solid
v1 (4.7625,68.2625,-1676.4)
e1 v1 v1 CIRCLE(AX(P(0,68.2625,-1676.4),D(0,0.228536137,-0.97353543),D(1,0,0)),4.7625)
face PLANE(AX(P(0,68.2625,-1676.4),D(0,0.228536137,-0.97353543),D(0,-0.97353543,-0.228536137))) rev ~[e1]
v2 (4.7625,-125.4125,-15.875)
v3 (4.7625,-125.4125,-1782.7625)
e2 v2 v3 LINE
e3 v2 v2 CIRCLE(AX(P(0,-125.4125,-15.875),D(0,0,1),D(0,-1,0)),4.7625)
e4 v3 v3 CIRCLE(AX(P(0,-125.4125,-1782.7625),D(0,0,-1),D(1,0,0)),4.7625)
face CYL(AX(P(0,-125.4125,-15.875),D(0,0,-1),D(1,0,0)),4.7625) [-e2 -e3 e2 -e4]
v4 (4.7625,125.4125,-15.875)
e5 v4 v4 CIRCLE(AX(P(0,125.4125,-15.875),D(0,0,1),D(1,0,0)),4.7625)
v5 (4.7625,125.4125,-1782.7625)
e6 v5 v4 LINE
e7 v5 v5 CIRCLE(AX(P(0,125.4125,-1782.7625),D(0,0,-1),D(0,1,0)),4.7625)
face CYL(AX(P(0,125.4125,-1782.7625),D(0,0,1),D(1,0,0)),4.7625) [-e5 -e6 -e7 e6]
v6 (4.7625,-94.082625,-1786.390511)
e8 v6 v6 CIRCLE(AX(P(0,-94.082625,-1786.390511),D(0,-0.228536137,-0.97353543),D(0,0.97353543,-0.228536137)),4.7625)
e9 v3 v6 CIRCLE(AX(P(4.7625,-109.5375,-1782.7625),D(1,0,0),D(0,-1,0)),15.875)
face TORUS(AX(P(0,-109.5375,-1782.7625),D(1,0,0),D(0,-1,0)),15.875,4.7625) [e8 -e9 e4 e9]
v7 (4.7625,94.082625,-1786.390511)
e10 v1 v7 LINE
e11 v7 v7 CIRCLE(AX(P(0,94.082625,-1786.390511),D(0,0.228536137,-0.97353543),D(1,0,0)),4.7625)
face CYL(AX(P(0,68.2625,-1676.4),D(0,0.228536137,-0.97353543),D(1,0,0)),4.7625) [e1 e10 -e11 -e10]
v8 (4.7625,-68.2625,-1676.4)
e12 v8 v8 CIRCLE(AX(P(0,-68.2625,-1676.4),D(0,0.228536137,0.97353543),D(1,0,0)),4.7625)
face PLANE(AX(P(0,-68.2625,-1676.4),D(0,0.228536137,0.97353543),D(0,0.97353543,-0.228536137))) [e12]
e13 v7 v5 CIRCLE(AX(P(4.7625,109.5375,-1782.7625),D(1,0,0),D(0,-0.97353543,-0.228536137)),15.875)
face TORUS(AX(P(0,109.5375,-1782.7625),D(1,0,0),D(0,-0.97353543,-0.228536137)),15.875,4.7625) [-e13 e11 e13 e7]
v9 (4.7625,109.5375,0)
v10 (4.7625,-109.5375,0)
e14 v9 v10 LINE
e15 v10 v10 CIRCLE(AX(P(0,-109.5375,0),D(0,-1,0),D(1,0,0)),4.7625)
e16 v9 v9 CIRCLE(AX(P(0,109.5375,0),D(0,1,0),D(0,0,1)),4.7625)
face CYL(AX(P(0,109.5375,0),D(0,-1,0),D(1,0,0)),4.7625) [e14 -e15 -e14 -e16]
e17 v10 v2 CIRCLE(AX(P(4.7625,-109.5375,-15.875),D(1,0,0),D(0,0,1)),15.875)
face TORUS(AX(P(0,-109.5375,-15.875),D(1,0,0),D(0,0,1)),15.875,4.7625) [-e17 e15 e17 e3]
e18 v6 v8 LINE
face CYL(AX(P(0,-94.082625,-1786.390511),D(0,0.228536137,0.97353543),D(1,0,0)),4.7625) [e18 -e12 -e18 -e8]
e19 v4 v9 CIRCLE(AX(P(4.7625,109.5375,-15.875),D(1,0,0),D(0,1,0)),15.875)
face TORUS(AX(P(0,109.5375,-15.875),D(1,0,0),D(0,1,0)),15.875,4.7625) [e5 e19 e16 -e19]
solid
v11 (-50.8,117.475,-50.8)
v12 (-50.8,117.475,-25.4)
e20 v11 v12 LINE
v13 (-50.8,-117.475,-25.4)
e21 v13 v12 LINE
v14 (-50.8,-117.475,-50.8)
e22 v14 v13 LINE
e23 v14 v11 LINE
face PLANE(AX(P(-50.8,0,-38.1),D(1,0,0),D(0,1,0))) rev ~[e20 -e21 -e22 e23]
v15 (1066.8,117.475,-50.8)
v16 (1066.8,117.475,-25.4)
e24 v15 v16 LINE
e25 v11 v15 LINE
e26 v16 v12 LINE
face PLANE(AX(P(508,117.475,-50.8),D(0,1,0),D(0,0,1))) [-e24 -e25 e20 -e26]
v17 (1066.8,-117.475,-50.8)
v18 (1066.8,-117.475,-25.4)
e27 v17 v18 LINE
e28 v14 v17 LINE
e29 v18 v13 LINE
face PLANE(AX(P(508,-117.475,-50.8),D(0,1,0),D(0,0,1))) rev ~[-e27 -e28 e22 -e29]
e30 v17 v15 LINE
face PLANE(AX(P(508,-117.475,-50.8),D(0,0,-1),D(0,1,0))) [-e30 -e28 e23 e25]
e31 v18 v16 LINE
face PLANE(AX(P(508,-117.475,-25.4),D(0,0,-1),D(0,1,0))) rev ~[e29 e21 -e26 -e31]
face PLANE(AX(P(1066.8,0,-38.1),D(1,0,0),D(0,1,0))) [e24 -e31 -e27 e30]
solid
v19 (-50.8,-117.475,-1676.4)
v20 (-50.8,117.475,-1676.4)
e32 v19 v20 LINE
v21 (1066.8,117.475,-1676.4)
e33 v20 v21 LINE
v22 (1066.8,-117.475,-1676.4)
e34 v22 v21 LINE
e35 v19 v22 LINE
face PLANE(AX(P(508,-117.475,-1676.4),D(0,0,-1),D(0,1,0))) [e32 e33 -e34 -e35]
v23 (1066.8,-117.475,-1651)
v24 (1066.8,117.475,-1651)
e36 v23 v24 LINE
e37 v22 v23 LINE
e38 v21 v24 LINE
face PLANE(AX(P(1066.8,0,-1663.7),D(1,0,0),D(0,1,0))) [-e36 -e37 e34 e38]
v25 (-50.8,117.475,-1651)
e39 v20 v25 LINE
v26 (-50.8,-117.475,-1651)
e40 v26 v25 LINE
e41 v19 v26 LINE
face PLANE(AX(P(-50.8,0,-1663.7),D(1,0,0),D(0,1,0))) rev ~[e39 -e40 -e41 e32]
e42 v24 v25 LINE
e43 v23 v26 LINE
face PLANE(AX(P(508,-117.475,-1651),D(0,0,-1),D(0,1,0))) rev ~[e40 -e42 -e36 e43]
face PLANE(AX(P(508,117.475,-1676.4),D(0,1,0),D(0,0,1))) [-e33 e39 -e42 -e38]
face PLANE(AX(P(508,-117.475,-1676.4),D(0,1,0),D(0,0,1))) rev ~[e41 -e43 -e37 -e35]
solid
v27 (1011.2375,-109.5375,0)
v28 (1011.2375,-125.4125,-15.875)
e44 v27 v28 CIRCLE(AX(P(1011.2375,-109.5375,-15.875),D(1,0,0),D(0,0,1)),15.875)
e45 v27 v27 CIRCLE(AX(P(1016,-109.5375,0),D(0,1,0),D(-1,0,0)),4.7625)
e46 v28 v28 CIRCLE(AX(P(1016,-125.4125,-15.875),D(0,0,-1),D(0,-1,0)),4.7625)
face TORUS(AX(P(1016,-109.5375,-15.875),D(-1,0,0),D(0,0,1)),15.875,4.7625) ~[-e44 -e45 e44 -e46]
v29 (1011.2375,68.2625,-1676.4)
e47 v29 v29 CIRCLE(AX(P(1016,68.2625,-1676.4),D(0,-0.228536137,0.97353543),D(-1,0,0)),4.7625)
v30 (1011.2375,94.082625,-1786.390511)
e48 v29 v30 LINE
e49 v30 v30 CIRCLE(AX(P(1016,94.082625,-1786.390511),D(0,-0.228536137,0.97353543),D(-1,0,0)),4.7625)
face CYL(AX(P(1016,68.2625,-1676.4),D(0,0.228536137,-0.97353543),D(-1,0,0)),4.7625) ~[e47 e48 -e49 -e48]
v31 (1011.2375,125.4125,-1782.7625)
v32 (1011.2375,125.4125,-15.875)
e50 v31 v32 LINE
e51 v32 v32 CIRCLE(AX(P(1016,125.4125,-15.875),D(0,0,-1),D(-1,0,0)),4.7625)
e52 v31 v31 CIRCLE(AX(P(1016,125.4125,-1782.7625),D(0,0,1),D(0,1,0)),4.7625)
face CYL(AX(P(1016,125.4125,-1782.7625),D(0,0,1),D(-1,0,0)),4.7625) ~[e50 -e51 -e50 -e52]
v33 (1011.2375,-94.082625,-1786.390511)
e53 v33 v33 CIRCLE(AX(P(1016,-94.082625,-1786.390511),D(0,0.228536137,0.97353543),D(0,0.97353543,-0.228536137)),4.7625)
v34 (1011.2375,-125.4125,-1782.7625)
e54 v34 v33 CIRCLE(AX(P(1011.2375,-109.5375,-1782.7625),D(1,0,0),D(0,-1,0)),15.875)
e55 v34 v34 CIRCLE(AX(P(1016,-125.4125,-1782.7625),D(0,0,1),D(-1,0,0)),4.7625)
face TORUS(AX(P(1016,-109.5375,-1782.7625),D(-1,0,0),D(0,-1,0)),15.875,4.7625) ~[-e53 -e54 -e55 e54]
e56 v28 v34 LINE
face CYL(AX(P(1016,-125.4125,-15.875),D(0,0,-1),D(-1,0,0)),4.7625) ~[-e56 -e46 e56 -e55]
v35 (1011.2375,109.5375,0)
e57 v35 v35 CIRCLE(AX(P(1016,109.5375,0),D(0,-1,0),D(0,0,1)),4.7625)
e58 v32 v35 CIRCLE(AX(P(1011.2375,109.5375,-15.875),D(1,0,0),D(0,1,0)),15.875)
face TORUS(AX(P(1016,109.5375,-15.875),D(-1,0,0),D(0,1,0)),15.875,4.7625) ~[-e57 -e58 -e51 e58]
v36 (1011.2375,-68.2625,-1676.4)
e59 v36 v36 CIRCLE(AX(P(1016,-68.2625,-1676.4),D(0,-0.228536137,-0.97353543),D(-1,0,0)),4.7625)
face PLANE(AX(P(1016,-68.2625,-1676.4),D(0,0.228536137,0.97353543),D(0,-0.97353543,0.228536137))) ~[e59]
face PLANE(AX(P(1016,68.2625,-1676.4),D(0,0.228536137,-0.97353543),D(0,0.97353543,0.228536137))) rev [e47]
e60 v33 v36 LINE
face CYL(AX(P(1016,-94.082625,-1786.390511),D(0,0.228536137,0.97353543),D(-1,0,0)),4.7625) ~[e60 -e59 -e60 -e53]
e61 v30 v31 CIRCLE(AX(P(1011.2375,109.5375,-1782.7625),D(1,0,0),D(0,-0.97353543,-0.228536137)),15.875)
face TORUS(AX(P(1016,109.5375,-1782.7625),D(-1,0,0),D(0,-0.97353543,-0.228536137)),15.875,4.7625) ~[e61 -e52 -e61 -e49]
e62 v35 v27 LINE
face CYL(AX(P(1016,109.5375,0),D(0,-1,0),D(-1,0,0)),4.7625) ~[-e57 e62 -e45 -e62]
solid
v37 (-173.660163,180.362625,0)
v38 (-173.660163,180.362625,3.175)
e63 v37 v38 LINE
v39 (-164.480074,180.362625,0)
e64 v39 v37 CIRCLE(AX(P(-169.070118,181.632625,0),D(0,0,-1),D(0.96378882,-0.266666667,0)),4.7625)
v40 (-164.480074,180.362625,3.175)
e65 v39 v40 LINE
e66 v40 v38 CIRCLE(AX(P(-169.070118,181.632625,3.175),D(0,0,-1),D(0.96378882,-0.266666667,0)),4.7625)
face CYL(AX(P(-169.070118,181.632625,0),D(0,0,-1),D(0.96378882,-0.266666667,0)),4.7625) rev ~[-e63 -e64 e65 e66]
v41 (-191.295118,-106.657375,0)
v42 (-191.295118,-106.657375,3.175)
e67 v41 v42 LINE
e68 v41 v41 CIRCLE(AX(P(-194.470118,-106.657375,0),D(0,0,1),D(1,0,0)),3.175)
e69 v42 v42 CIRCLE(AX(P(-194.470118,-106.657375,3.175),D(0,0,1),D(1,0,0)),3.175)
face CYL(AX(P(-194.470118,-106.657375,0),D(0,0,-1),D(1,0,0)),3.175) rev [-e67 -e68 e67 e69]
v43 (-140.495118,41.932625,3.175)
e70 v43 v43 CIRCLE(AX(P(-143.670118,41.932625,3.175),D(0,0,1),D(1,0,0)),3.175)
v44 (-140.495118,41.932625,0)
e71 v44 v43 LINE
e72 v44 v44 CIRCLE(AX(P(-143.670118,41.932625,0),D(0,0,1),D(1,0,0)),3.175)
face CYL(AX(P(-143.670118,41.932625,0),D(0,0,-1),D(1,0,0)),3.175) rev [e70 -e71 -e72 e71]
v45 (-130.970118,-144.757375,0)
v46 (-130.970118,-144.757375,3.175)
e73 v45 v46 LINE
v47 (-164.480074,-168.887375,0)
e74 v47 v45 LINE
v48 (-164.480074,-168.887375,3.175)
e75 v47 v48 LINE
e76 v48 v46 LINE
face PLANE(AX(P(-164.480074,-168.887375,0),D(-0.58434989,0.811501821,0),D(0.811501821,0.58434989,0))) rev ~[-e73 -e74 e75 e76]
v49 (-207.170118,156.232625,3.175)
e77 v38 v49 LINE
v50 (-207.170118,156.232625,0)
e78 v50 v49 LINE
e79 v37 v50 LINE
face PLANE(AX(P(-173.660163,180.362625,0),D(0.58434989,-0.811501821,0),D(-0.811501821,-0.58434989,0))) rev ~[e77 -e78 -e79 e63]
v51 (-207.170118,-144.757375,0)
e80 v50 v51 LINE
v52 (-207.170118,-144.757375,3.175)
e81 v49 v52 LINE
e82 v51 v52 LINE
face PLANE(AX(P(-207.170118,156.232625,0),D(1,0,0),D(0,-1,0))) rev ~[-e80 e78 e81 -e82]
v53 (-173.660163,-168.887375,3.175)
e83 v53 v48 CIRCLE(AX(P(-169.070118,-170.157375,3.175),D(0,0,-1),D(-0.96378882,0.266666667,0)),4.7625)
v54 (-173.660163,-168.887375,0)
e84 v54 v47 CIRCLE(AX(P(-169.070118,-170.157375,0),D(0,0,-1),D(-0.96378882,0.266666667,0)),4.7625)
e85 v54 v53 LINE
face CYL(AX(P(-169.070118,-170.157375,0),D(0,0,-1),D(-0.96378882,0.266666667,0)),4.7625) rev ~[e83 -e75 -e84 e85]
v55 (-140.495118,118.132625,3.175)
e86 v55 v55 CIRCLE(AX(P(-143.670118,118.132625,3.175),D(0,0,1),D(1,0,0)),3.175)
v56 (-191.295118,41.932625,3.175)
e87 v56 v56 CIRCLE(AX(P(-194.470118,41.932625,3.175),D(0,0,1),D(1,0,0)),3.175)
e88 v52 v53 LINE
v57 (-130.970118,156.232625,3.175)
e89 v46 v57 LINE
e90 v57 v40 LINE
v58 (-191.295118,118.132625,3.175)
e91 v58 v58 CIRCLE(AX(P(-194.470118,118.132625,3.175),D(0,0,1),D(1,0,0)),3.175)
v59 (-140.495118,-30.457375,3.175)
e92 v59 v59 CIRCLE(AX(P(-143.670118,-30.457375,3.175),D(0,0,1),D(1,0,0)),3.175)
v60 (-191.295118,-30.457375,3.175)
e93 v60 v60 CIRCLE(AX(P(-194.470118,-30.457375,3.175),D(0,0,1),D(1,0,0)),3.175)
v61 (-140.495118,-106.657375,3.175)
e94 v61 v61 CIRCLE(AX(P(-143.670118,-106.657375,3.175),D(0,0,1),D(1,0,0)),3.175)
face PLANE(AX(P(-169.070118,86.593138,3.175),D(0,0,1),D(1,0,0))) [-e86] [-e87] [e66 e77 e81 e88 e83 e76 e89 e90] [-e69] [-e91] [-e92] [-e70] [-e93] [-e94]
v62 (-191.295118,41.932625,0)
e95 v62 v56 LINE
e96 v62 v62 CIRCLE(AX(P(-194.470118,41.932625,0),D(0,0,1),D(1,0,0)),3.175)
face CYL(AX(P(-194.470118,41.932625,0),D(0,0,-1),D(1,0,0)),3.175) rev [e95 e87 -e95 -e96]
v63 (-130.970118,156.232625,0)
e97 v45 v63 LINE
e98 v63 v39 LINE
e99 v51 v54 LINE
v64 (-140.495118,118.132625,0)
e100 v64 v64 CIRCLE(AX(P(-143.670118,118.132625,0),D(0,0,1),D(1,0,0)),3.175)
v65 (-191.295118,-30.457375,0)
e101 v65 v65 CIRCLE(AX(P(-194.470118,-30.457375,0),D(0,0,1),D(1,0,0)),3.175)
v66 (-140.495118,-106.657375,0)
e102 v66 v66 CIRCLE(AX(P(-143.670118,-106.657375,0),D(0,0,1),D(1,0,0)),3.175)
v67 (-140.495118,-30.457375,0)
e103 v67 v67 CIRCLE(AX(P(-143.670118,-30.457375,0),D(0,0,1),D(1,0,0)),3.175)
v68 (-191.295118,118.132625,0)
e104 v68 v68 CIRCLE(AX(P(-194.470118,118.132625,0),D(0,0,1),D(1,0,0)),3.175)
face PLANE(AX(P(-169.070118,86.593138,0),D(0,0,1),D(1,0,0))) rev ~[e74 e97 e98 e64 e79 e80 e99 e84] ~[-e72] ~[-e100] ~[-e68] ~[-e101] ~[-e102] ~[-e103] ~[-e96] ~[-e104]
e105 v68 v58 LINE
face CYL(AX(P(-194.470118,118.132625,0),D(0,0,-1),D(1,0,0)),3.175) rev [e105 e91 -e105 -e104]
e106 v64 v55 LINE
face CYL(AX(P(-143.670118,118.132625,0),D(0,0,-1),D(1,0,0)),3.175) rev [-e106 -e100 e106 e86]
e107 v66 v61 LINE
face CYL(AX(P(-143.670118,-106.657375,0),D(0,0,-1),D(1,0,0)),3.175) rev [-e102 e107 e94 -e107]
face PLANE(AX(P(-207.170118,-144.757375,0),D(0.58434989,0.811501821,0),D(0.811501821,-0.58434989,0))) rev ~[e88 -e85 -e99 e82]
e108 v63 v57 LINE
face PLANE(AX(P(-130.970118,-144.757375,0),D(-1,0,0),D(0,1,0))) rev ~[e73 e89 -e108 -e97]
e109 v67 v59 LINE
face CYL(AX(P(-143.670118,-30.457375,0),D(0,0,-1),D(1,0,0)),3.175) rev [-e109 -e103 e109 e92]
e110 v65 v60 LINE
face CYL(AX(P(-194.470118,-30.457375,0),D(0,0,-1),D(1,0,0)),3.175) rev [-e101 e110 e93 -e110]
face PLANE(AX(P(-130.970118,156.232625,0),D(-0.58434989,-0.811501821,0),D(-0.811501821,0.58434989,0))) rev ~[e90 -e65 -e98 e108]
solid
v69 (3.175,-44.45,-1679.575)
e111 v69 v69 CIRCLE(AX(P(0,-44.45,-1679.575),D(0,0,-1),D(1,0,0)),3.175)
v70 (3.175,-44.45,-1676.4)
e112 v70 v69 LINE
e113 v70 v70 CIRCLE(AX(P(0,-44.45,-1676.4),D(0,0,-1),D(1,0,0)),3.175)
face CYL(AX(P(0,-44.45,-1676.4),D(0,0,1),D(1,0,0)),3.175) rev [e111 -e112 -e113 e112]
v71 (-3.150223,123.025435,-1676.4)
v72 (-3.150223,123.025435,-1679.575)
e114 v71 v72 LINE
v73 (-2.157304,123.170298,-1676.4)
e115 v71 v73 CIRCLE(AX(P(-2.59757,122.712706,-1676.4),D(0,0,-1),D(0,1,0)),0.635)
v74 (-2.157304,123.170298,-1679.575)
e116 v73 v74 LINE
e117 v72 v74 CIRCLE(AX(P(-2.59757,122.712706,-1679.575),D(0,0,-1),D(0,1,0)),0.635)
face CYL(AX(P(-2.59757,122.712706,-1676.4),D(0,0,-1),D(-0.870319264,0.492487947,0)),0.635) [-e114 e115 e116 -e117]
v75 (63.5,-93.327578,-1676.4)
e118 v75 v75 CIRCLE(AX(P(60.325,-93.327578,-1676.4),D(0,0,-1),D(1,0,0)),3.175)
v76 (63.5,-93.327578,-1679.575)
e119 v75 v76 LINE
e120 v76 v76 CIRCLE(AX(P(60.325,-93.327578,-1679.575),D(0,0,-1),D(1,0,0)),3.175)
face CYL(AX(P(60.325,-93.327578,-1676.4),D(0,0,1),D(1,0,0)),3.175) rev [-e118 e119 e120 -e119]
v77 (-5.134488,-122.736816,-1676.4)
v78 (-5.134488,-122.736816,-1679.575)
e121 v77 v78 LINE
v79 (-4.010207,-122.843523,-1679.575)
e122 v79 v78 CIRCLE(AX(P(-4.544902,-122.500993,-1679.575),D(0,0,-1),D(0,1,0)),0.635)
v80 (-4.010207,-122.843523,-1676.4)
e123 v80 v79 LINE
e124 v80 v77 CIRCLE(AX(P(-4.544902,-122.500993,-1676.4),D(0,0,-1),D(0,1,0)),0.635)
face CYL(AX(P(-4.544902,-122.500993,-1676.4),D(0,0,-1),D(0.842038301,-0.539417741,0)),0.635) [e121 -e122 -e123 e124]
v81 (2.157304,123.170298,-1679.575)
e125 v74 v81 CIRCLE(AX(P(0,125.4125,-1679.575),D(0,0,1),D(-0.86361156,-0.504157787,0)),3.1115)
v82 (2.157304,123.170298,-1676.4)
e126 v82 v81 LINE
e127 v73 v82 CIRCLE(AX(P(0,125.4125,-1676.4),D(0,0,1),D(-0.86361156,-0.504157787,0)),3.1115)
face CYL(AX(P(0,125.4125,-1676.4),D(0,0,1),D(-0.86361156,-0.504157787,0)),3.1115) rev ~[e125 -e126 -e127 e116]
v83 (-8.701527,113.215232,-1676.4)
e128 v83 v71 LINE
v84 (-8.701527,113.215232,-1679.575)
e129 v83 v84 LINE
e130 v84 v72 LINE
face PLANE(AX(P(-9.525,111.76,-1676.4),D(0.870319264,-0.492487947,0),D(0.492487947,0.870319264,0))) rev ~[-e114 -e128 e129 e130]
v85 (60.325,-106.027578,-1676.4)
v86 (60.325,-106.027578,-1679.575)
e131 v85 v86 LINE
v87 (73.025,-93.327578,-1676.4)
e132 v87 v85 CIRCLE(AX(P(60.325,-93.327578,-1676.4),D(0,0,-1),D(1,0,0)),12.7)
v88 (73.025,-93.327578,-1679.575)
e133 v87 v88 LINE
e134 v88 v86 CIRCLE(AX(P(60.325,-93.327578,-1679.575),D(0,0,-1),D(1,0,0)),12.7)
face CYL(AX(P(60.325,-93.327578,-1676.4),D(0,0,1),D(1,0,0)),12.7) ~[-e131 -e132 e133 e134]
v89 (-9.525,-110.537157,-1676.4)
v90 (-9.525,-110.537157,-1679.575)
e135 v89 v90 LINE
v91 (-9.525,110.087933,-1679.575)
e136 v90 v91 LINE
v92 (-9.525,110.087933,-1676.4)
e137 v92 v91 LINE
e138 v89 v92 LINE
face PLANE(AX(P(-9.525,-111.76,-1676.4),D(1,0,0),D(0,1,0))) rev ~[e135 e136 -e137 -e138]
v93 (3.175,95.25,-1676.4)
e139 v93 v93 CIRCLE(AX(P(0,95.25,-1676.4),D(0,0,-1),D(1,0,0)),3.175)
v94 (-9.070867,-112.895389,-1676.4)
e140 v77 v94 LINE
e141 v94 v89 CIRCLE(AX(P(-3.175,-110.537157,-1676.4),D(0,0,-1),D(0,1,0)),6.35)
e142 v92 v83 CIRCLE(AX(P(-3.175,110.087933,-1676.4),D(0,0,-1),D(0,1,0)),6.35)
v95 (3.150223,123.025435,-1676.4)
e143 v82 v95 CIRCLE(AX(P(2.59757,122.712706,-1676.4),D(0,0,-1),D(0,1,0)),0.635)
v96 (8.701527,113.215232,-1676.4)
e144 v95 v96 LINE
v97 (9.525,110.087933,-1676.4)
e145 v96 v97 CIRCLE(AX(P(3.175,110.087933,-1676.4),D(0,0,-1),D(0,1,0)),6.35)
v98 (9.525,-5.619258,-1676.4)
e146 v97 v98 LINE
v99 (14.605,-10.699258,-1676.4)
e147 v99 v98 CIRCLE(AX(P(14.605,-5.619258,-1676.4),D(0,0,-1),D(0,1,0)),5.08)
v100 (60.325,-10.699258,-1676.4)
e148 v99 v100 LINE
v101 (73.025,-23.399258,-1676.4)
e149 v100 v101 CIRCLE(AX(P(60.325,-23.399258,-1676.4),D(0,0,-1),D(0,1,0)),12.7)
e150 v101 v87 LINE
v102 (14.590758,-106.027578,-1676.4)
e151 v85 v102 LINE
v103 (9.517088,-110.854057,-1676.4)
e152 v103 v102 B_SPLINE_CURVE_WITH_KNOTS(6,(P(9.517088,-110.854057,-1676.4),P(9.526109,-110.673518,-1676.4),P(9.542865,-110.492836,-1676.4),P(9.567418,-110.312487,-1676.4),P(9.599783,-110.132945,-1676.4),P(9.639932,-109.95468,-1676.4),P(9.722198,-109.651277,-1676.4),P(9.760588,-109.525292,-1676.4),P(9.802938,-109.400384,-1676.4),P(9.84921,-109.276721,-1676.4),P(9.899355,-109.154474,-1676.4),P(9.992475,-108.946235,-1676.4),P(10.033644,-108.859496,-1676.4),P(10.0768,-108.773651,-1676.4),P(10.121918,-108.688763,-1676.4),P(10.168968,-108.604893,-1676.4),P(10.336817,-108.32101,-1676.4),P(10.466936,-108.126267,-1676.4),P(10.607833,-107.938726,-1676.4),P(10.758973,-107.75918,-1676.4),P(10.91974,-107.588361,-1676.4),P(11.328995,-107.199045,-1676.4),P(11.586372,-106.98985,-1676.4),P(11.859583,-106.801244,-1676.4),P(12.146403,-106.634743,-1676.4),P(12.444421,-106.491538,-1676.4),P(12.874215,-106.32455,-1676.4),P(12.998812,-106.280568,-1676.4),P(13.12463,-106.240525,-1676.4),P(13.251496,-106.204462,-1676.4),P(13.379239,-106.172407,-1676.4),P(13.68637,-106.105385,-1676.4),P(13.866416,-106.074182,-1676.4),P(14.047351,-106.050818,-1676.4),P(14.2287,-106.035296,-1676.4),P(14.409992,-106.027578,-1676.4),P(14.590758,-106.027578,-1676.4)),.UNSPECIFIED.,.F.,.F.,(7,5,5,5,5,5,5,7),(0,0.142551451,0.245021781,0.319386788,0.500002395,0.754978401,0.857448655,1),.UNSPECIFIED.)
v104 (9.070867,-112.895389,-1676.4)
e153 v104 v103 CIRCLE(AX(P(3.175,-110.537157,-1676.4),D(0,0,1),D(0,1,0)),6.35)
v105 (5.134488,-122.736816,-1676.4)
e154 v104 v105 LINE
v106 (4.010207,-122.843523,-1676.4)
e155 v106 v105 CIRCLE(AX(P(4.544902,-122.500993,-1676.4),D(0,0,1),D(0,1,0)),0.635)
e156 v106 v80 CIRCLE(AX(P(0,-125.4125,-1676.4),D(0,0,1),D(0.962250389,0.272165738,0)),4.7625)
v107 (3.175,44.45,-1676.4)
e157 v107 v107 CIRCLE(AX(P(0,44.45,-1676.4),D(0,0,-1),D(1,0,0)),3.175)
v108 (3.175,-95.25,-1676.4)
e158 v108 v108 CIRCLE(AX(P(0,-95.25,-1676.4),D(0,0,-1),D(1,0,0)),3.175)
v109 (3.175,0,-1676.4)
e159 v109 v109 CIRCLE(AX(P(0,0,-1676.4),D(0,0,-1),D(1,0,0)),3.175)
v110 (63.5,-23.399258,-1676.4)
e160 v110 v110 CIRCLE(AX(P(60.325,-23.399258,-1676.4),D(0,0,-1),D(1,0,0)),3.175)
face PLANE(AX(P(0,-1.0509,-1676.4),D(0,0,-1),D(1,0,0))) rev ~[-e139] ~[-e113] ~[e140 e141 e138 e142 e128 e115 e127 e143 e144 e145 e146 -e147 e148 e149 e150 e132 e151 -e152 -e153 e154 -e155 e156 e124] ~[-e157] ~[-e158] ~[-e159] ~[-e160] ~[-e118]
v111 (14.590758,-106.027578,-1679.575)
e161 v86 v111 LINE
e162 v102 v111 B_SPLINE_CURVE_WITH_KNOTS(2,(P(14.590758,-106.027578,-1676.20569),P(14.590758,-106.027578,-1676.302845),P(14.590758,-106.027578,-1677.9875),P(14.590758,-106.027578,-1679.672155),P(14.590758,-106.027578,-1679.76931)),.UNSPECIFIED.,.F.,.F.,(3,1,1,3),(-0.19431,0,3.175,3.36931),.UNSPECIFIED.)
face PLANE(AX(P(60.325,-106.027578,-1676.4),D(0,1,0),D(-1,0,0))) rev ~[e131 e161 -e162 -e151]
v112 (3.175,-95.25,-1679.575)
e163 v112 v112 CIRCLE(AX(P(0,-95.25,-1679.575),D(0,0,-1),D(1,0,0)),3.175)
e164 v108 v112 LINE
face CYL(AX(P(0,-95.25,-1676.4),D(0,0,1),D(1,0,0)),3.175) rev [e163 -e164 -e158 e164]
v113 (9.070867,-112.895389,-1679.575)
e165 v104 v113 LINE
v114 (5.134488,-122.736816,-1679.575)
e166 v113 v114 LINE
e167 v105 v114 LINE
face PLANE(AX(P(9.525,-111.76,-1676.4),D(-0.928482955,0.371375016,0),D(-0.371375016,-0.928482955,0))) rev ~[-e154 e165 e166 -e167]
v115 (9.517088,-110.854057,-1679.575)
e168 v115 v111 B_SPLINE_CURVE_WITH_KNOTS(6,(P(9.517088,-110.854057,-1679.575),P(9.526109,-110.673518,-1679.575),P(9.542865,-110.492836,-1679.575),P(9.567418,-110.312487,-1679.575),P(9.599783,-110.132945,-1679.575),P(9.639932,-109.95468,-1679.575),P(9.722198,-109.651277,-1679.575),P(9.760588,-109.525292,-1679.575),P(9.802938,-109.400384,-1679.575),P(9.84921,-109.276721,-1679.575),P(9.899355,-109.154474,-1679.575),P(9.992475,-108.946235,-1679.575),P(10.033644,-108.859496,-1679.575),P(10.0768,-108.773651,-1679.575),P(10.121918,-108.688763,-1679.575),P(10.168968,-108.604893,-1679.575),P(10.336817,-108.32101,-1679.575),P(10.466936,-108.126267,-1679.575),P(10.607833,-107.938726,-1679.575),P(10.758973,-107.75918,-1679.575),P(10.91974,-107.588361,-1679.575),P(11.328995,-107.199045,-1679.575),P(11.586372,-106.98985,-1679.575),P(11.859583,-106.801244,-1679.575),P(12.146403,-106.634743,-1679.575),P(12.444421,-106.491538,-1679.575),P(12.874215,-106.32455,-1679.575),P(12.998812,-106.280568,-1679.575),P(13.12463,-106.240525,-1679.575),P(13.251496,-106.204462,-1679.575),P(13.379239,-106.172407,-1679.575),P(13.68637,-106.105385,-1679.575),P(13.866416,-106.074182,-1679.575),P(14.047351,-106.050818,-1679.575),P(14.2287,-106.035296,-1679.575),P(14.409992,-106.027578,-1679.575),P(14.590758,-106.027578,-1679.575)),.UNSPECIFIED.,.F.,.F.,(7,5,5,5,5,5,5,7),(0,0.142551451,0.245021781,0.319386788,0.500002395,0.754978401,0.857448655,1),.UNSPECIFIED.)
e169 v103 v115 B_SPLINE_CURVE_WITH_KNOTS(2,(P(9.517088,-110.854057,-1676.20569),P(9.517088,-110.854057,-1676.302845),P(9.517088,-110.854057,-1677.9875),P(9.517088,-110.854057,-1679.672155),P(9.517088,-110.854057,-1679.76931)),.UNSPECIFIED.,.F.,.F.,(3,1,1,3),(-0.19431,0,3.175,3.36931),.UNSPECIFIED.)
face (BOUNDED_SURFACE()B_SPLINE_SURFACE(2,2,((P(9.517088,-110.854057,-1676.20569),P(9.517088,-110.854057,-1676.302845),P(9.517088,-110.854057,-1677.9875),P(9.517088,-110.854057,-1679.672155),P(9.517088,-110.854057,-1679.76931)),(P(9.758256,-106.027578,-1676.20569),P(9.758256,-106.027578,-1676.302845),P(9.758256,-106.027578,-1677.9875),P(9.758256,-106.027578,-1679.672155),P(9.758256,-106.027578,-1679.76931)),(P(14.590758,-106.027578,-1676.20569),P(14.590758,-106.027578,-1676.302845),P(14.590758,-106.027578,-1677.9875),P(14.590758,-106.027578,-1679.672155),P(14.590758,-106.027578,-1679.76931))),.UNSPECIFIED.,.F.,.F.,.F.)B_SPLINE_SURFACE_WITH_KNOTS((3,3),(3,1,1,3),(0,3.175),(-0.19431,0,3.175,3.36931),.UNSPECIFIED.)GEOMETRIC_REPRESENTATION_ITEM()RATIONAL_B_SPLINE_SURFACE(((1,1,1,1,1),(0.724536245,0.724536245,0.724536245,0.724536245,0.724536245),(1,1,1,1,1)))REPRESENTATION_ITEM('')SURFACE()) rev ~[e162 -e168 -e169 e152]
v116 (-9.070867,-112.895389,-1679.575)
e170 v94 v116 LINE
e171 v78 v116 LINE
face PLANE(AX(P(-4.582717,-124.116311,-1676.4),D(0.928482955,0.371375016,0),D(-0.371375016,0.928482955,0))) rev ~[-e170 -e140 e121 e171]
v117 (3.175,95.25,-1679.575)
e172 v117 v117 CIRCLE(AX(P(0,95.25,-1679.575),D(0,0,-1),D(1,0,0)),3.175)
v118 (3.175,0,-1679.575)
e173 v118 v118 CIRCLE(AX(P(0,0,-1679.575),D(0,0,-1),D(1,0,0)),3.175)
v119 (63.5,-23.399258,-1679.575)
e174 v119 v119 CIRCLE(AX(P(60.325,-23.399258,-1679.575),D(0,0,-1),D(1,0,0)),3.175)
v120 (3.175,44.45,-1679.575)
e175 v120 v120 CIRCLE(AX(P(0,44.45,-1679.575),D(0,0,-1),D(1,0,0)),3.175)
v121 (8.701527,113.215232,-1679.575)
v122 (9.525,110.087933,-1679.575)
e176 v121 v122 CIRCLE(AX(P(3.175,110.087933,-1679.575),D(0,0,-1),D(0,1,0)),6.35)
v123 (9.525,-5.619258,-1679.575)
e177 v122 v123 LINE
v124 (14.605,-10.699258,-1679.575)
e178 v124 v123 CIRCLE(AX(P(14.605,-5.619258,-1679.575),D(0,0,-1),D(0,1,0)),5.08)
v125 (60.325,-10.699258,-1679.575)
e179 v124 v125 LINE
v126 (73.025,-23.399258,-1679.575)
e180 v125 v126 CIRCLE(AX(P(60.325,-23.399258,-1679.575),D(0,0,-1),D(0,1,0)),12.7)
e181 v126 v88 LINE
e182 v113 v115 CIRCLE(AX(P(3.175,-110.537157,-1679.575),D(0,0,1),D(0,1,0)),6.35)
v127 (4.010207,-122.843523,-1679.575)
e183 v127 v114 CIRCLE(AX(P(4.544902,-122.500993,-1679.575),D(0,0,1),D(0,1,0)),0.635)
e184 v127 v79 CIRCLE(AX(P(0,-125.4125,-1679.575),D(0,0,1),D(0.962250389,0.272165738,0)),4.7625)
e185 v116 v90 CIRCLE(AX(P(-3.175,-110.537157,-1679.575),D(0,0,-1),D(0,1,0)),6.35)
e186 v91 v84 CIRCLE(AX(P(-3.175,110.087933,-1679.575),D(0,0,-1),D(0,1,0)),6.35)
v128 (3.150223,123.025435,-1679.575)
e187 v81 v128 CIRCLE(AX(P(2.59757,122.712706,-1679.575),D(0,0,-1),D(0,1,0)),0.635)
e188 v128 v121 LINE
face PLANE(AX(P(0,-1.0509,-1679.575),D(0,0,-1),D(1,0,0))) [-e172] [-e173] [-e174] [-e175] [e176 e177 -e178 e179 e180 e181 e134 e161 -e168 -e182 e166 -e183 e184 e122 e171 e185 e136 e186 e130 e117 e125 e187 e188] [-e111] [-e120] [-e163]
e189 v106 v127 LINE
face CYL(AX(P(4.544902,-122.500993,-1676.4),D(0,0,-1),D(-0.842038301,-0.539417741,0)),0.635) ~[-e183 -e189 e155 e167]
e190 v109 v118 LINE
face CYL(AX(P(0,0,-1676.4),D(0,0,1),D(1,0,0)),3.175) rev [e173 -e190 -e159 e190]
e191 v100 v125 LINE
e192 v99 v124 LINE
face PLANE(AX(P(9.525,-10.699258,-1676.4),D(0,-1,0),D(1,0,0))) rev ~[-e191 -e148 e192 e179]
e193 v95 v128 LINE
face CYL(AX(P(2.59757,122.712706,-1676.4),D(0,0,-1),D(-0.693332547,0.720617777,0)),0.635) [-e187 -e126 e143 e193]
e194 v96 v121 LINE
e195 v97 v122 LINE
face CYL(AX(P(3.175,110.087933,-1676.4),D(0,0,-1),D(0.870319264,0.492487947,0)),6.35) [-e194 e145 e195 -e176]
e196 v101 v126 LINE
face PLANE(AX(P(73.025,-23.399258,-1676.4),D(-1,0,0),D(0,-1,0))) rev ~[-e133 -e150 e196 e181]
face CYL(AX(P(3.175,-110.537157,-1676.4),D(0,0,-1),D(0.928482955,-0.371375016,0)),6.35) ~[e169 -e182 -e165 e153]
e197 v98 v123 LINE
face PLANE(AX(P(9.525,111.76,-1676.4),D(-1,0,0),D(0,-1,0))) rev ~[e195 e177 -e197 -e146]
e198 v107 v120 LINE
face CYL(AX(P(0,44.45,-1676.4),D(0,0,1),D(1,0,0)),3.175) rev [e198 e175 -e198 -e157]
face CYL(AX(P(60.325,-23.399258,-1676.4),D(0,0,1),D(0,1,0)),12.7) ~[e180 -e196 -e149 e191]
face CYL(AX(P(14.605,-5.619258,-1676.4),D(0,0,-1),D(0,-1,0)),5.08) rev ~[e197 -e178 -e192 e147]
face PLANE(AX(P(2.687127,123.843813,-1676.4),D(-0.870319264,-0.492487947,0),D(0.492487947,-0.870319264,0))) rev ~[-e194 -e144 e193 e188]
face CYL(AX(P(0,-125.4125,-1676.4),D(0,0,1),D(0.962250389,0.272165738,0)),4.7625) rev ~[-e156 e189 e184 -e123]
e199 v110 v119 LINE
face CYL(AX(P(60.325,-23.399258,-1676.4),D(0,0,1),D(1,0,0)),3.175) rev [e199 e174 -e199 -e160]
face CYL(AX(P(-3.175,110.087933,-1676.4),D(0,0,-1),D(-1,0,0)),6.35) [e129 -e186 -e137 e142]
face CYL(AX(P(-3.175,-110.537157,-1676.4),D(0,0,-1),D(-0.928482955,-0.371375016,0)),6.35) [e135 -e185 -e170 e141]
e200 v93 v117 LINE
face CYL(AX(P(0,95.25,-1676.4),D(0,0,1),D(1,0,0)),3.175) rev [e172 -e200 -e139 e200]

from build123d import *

# Parameters (mm, degrees)
F1_R          = 4.7625
F5_W          = 234.95
F5_H          = 25.4
F6_DEPTH      = 558.8
F6_DEPTH_BACK = 558.8
F7_R          = 3.175
F8_DEPTH      = 3.175
F9_R          = 0.635
F10_R         = 6.35
F11_R         = 5.08
F12_R         = 3.175
F13_DEPTH     = 3.175


with BuildPart() as f2:
    # F2: sweep along a path in F0
    with BuildLine(Plane.YZ) as f2_path:
        Line((68.2625, -1676.4), (94.0826250442, -1786.3905111769))
        ThreePointArc((94.0826250442, -1786.3905111769), (111.3636277442, -1798.5321189701), (125.4125, -1782.7625))
        Line((125.4125, -1782.7625), (125.4125, -15.875))
        ThreePointArc((125.4125, -15.875), (120.7628201513, -4.6496798487), (109.5375, 0))
        Line((109.5375, 0), (0, 0))
        Line((0, 0), (-109.5375, 0))
        ThreePointArc((-109.5375, 0), (-120.7628201513, -4.6496798487), (-125.4125, -15.875))
        Line((-125.4125, -15.875), (-125.4125, -1782.7625))
        ThreePointArc((-125.4125, -1782.7625), (-111.3636277442, -1798.5321189701), (-94.0826250442, -1786.3905111769))
        Line((-94.0826250442, -1786.3905111769), (-68.2625, -1676.4))
    # F1 (on Front) → F2 (sweep)
    with BuildSketch(Plane.XZ):
        Circle(F1_R)
    sweep(path=f2_path.line)


with BuildPart() as f4_1:
    # F4: instance of F2
    add(f2.part.mirror(Plane.YZ.offset(508)))


with BuildPart() as f6:
    # F5 (on offset) → F6 (new body, two sides)
    with BuildSketch(Plane.YZ.offset(508)) as f6_sk:
        with Locations((0, -38.1)):
            Rectangle(F5_W, F5_H)
    extrude(amount=F6_DEPTH)
    extrude(f6_sk.sketch, amount=-F6_DEPTH_BACK)


with BuildPart() as f6b:
    # F5 (on offset) → F6, piece 2 (new body, two sides)
    with BuildSketch(Plane.YZ.offset(508)) as f6_2_sk:
        with Locations((0, -1663.7)):
            Rectangle(F5_W, F5_H)
    extrude(amount=F6_DEPTH)
    extrude(f6_2_sk.sketch, amount=-F6_DEPTH_BACK)


with BuildPart() as f8:
    # F7 (on face) → F8 (new body)
    with BuildSketch(Plane(origin=(0, 0, -1676.4), x_dir=(1, 0, 0), z_dir=(0, 0, -1))):
        with BuildLine():
            ThreePointArc((4.5827174779, 124.1163106745), (0, 120.65), (-4.5827174779, 124.1163106745))
            Line((-4.5827174779, 124.1163106745), (-9.525, 111.76))
            Line((-9.525, 111.76), (-9.525, -111.76))
            Line((-9.525, -111.76), (-2.6871273677, -123.843813046))
            ThreePointArc((-2.6871273677, -123.843813046), (0, -122.301), (2.6871273677, -123.843813046))
            Line((2.6871273677, -123.843813046), (9.525, -111.76))
            Line((9.525, -111.76), (9.525, 10.6992584002))
            Line((9.525, 10.6992584002), (9.525, 106.0275776148))
            Line((9.525, 106.0275776148), (9.525, 111.76))
            Line((9.525, 111.76), (4.5827174779, 124.1163106745))
        make_face()
        with Locations((0, -95.25)):
            Circle(F7_R, mode=Mode.SUBTRACT)
        with Locations((0, -44.45)):
            Circle(F7_R, mode=Mode.SUBTRACT)
        Circle(F7_R, mode=Mode.SUBTRACT)
        with Locations((0, 44.45)):
            Circle(F7_R, mode=Mode.SUBTRACT)
        with Locations((0, 95.25)):
            Circle(F7_R, mode=Mode.SUBTRACT)
        with BuildLine():
            Line((60.325, 106.0275776148), (9.525, 106.0275776148))
            Line((9.525, 106.0275776148), (9.525, 10.6992584002))
            Line((9.525, 10.6992584002), (60.325, 10.6992584002))
            ThreePointArc((60.325, 10.6992584002), (69.3052561211, 14.4190022792), (73.025, 23.3992584002))
            Line((73.025, 23.3992584002), (73.025, 93.3275776148))
            ThreePointArc((73.025, 93.3275776148), (69.3052561211, 102.3078337359), (60.325, 106.0275776148))
        make_face()
        with Locations((60.325, 23.3992584002)):
            Circle(F7_R, mode=Mode.SUBTRACT)
        with Locations((60.325, 93.3275776148)):
            Circle(F7_R, mode=Mode.SUBTRACT)
    extrude(amount=F8_DEPTH)

    # F9
    f9_edges = [f8.edges().sort_by_distance(p)[0] for p in [
        (4.582717, -124.116311, -1677.9875),
        (2.687127, 123.843813, -1677.9875),
        (-2.687127, 123.843813, -1677.9875),
        (-4.582717, -124.116311, -1677.9875),
    ]]
    fillet(f9_edges, radius=F9_R)

    # F10
    f10_edges = [f8.edges().sort_by_distance(p)[0] for p in [
        (-9.525, 111.76, -1677.9875),
        (9.525, 111.76, -1677.9875),
        (9.525, -111.76, -1677.9875),
        (-9.525, -111.76, -1677.9875),
    ]]
    fillet(f10_edges, radius=F10_R)

    # F11
    f11_edges = [f8.edges().sort_by_distance(p)[0] for p in [
        (9.525, -10.699258, -1677.9875),
        (9.525, -106.027578, -1677.9875),
    ]]
    fillet(f11_edges, radius=F11_R)


with BuildPart() as f13:
    # F12 (on Top) → F13 (new body)
    with BuildSketch(Plane.XY):
        with BuildLine():
            Line((-207.1701182604, 156.2326253128), (-207.1701182604, 5.7376253128))
            Line((-207.1701182604, 5.7376253128), (-130.9701182604, 5.7376253128))
            Line((-130.9701182604, 5.7376253128), (-130.9701182604, 156.2326253128))
            Line((-130.9701182604, 156.2326253128), (-164.4800740068, 180.3626253128))
            ThreePointArc((-164.4800740068, 180.3626253128), (-169.0701182604, 176.8701253128), (-173.660162514, 180.3626253128))
            Line((-173.660162514, 180.3626253128), (-207.1701182604, 156.2326253128))
        make_face()
        with Locations((-194.4701182604, 41.9326253128)):
            Circle(F12_R, mode=Mode.SUBTRACT)
        with Locations((-194.4701182604, 118.1326253128)):
            Circle(F12_R, mode=Mode.SUBTRACT)
        with Locations((-143.6701182604, 41.9326253128)):
            Circle(F12_R, mode=Mode.SUBTRACT)
        with Locations((-143.6701182604, 118.1326253128)):
            Circle(F12_R, mode=Mode.SUBTRACT)
        with BuildLine():
            Line((-130.9701182604, 5.7376253128), (-207.1701182604, 5.7376253128))
            Line((-207.1701182604, 5.7376253128), (-207.1701182604, -144.7573746872))
            Line((-207.1701182604, -144.7573746872), (-173.660162514, -168.8873746872))
            ThreePointArc((-173.660162514, -168.8873746872), (-169.0701182604, -165.3948746872), (-164.4800740068, -168.8873746872))
            Line((-164.4800740068, -168.8873746872), (-130.9701182604, -144.7573746872))
            Line((-130.9701182604, -144.7573746872), (-130.9701182604, 5.7376253128))
        make_face()
        with Locations((-194.4701182604, -106.6573746872)):
            Circle(F12_R, mode=Mode.SUBTRACT)
        with Locations((-194.4701182604, -30.4573746872)):
            Circle(F12_R, mode=Mode.SUBTRACT)
        with Locations((-143.6701182604, -106.6573746872)):
            Circle(F12_R, mode=Mode.SUBTRACT)
        with Locations((-143.6701182604, -30.4573746872)):
            Circle(F12_R, mode=Mode.SUBTRACT)
    extrude(amount=F13_DEPTH)


solid = Compound([f2.part, f4_1.part, f6.part, f6b.part, f8.part, f13.part])
